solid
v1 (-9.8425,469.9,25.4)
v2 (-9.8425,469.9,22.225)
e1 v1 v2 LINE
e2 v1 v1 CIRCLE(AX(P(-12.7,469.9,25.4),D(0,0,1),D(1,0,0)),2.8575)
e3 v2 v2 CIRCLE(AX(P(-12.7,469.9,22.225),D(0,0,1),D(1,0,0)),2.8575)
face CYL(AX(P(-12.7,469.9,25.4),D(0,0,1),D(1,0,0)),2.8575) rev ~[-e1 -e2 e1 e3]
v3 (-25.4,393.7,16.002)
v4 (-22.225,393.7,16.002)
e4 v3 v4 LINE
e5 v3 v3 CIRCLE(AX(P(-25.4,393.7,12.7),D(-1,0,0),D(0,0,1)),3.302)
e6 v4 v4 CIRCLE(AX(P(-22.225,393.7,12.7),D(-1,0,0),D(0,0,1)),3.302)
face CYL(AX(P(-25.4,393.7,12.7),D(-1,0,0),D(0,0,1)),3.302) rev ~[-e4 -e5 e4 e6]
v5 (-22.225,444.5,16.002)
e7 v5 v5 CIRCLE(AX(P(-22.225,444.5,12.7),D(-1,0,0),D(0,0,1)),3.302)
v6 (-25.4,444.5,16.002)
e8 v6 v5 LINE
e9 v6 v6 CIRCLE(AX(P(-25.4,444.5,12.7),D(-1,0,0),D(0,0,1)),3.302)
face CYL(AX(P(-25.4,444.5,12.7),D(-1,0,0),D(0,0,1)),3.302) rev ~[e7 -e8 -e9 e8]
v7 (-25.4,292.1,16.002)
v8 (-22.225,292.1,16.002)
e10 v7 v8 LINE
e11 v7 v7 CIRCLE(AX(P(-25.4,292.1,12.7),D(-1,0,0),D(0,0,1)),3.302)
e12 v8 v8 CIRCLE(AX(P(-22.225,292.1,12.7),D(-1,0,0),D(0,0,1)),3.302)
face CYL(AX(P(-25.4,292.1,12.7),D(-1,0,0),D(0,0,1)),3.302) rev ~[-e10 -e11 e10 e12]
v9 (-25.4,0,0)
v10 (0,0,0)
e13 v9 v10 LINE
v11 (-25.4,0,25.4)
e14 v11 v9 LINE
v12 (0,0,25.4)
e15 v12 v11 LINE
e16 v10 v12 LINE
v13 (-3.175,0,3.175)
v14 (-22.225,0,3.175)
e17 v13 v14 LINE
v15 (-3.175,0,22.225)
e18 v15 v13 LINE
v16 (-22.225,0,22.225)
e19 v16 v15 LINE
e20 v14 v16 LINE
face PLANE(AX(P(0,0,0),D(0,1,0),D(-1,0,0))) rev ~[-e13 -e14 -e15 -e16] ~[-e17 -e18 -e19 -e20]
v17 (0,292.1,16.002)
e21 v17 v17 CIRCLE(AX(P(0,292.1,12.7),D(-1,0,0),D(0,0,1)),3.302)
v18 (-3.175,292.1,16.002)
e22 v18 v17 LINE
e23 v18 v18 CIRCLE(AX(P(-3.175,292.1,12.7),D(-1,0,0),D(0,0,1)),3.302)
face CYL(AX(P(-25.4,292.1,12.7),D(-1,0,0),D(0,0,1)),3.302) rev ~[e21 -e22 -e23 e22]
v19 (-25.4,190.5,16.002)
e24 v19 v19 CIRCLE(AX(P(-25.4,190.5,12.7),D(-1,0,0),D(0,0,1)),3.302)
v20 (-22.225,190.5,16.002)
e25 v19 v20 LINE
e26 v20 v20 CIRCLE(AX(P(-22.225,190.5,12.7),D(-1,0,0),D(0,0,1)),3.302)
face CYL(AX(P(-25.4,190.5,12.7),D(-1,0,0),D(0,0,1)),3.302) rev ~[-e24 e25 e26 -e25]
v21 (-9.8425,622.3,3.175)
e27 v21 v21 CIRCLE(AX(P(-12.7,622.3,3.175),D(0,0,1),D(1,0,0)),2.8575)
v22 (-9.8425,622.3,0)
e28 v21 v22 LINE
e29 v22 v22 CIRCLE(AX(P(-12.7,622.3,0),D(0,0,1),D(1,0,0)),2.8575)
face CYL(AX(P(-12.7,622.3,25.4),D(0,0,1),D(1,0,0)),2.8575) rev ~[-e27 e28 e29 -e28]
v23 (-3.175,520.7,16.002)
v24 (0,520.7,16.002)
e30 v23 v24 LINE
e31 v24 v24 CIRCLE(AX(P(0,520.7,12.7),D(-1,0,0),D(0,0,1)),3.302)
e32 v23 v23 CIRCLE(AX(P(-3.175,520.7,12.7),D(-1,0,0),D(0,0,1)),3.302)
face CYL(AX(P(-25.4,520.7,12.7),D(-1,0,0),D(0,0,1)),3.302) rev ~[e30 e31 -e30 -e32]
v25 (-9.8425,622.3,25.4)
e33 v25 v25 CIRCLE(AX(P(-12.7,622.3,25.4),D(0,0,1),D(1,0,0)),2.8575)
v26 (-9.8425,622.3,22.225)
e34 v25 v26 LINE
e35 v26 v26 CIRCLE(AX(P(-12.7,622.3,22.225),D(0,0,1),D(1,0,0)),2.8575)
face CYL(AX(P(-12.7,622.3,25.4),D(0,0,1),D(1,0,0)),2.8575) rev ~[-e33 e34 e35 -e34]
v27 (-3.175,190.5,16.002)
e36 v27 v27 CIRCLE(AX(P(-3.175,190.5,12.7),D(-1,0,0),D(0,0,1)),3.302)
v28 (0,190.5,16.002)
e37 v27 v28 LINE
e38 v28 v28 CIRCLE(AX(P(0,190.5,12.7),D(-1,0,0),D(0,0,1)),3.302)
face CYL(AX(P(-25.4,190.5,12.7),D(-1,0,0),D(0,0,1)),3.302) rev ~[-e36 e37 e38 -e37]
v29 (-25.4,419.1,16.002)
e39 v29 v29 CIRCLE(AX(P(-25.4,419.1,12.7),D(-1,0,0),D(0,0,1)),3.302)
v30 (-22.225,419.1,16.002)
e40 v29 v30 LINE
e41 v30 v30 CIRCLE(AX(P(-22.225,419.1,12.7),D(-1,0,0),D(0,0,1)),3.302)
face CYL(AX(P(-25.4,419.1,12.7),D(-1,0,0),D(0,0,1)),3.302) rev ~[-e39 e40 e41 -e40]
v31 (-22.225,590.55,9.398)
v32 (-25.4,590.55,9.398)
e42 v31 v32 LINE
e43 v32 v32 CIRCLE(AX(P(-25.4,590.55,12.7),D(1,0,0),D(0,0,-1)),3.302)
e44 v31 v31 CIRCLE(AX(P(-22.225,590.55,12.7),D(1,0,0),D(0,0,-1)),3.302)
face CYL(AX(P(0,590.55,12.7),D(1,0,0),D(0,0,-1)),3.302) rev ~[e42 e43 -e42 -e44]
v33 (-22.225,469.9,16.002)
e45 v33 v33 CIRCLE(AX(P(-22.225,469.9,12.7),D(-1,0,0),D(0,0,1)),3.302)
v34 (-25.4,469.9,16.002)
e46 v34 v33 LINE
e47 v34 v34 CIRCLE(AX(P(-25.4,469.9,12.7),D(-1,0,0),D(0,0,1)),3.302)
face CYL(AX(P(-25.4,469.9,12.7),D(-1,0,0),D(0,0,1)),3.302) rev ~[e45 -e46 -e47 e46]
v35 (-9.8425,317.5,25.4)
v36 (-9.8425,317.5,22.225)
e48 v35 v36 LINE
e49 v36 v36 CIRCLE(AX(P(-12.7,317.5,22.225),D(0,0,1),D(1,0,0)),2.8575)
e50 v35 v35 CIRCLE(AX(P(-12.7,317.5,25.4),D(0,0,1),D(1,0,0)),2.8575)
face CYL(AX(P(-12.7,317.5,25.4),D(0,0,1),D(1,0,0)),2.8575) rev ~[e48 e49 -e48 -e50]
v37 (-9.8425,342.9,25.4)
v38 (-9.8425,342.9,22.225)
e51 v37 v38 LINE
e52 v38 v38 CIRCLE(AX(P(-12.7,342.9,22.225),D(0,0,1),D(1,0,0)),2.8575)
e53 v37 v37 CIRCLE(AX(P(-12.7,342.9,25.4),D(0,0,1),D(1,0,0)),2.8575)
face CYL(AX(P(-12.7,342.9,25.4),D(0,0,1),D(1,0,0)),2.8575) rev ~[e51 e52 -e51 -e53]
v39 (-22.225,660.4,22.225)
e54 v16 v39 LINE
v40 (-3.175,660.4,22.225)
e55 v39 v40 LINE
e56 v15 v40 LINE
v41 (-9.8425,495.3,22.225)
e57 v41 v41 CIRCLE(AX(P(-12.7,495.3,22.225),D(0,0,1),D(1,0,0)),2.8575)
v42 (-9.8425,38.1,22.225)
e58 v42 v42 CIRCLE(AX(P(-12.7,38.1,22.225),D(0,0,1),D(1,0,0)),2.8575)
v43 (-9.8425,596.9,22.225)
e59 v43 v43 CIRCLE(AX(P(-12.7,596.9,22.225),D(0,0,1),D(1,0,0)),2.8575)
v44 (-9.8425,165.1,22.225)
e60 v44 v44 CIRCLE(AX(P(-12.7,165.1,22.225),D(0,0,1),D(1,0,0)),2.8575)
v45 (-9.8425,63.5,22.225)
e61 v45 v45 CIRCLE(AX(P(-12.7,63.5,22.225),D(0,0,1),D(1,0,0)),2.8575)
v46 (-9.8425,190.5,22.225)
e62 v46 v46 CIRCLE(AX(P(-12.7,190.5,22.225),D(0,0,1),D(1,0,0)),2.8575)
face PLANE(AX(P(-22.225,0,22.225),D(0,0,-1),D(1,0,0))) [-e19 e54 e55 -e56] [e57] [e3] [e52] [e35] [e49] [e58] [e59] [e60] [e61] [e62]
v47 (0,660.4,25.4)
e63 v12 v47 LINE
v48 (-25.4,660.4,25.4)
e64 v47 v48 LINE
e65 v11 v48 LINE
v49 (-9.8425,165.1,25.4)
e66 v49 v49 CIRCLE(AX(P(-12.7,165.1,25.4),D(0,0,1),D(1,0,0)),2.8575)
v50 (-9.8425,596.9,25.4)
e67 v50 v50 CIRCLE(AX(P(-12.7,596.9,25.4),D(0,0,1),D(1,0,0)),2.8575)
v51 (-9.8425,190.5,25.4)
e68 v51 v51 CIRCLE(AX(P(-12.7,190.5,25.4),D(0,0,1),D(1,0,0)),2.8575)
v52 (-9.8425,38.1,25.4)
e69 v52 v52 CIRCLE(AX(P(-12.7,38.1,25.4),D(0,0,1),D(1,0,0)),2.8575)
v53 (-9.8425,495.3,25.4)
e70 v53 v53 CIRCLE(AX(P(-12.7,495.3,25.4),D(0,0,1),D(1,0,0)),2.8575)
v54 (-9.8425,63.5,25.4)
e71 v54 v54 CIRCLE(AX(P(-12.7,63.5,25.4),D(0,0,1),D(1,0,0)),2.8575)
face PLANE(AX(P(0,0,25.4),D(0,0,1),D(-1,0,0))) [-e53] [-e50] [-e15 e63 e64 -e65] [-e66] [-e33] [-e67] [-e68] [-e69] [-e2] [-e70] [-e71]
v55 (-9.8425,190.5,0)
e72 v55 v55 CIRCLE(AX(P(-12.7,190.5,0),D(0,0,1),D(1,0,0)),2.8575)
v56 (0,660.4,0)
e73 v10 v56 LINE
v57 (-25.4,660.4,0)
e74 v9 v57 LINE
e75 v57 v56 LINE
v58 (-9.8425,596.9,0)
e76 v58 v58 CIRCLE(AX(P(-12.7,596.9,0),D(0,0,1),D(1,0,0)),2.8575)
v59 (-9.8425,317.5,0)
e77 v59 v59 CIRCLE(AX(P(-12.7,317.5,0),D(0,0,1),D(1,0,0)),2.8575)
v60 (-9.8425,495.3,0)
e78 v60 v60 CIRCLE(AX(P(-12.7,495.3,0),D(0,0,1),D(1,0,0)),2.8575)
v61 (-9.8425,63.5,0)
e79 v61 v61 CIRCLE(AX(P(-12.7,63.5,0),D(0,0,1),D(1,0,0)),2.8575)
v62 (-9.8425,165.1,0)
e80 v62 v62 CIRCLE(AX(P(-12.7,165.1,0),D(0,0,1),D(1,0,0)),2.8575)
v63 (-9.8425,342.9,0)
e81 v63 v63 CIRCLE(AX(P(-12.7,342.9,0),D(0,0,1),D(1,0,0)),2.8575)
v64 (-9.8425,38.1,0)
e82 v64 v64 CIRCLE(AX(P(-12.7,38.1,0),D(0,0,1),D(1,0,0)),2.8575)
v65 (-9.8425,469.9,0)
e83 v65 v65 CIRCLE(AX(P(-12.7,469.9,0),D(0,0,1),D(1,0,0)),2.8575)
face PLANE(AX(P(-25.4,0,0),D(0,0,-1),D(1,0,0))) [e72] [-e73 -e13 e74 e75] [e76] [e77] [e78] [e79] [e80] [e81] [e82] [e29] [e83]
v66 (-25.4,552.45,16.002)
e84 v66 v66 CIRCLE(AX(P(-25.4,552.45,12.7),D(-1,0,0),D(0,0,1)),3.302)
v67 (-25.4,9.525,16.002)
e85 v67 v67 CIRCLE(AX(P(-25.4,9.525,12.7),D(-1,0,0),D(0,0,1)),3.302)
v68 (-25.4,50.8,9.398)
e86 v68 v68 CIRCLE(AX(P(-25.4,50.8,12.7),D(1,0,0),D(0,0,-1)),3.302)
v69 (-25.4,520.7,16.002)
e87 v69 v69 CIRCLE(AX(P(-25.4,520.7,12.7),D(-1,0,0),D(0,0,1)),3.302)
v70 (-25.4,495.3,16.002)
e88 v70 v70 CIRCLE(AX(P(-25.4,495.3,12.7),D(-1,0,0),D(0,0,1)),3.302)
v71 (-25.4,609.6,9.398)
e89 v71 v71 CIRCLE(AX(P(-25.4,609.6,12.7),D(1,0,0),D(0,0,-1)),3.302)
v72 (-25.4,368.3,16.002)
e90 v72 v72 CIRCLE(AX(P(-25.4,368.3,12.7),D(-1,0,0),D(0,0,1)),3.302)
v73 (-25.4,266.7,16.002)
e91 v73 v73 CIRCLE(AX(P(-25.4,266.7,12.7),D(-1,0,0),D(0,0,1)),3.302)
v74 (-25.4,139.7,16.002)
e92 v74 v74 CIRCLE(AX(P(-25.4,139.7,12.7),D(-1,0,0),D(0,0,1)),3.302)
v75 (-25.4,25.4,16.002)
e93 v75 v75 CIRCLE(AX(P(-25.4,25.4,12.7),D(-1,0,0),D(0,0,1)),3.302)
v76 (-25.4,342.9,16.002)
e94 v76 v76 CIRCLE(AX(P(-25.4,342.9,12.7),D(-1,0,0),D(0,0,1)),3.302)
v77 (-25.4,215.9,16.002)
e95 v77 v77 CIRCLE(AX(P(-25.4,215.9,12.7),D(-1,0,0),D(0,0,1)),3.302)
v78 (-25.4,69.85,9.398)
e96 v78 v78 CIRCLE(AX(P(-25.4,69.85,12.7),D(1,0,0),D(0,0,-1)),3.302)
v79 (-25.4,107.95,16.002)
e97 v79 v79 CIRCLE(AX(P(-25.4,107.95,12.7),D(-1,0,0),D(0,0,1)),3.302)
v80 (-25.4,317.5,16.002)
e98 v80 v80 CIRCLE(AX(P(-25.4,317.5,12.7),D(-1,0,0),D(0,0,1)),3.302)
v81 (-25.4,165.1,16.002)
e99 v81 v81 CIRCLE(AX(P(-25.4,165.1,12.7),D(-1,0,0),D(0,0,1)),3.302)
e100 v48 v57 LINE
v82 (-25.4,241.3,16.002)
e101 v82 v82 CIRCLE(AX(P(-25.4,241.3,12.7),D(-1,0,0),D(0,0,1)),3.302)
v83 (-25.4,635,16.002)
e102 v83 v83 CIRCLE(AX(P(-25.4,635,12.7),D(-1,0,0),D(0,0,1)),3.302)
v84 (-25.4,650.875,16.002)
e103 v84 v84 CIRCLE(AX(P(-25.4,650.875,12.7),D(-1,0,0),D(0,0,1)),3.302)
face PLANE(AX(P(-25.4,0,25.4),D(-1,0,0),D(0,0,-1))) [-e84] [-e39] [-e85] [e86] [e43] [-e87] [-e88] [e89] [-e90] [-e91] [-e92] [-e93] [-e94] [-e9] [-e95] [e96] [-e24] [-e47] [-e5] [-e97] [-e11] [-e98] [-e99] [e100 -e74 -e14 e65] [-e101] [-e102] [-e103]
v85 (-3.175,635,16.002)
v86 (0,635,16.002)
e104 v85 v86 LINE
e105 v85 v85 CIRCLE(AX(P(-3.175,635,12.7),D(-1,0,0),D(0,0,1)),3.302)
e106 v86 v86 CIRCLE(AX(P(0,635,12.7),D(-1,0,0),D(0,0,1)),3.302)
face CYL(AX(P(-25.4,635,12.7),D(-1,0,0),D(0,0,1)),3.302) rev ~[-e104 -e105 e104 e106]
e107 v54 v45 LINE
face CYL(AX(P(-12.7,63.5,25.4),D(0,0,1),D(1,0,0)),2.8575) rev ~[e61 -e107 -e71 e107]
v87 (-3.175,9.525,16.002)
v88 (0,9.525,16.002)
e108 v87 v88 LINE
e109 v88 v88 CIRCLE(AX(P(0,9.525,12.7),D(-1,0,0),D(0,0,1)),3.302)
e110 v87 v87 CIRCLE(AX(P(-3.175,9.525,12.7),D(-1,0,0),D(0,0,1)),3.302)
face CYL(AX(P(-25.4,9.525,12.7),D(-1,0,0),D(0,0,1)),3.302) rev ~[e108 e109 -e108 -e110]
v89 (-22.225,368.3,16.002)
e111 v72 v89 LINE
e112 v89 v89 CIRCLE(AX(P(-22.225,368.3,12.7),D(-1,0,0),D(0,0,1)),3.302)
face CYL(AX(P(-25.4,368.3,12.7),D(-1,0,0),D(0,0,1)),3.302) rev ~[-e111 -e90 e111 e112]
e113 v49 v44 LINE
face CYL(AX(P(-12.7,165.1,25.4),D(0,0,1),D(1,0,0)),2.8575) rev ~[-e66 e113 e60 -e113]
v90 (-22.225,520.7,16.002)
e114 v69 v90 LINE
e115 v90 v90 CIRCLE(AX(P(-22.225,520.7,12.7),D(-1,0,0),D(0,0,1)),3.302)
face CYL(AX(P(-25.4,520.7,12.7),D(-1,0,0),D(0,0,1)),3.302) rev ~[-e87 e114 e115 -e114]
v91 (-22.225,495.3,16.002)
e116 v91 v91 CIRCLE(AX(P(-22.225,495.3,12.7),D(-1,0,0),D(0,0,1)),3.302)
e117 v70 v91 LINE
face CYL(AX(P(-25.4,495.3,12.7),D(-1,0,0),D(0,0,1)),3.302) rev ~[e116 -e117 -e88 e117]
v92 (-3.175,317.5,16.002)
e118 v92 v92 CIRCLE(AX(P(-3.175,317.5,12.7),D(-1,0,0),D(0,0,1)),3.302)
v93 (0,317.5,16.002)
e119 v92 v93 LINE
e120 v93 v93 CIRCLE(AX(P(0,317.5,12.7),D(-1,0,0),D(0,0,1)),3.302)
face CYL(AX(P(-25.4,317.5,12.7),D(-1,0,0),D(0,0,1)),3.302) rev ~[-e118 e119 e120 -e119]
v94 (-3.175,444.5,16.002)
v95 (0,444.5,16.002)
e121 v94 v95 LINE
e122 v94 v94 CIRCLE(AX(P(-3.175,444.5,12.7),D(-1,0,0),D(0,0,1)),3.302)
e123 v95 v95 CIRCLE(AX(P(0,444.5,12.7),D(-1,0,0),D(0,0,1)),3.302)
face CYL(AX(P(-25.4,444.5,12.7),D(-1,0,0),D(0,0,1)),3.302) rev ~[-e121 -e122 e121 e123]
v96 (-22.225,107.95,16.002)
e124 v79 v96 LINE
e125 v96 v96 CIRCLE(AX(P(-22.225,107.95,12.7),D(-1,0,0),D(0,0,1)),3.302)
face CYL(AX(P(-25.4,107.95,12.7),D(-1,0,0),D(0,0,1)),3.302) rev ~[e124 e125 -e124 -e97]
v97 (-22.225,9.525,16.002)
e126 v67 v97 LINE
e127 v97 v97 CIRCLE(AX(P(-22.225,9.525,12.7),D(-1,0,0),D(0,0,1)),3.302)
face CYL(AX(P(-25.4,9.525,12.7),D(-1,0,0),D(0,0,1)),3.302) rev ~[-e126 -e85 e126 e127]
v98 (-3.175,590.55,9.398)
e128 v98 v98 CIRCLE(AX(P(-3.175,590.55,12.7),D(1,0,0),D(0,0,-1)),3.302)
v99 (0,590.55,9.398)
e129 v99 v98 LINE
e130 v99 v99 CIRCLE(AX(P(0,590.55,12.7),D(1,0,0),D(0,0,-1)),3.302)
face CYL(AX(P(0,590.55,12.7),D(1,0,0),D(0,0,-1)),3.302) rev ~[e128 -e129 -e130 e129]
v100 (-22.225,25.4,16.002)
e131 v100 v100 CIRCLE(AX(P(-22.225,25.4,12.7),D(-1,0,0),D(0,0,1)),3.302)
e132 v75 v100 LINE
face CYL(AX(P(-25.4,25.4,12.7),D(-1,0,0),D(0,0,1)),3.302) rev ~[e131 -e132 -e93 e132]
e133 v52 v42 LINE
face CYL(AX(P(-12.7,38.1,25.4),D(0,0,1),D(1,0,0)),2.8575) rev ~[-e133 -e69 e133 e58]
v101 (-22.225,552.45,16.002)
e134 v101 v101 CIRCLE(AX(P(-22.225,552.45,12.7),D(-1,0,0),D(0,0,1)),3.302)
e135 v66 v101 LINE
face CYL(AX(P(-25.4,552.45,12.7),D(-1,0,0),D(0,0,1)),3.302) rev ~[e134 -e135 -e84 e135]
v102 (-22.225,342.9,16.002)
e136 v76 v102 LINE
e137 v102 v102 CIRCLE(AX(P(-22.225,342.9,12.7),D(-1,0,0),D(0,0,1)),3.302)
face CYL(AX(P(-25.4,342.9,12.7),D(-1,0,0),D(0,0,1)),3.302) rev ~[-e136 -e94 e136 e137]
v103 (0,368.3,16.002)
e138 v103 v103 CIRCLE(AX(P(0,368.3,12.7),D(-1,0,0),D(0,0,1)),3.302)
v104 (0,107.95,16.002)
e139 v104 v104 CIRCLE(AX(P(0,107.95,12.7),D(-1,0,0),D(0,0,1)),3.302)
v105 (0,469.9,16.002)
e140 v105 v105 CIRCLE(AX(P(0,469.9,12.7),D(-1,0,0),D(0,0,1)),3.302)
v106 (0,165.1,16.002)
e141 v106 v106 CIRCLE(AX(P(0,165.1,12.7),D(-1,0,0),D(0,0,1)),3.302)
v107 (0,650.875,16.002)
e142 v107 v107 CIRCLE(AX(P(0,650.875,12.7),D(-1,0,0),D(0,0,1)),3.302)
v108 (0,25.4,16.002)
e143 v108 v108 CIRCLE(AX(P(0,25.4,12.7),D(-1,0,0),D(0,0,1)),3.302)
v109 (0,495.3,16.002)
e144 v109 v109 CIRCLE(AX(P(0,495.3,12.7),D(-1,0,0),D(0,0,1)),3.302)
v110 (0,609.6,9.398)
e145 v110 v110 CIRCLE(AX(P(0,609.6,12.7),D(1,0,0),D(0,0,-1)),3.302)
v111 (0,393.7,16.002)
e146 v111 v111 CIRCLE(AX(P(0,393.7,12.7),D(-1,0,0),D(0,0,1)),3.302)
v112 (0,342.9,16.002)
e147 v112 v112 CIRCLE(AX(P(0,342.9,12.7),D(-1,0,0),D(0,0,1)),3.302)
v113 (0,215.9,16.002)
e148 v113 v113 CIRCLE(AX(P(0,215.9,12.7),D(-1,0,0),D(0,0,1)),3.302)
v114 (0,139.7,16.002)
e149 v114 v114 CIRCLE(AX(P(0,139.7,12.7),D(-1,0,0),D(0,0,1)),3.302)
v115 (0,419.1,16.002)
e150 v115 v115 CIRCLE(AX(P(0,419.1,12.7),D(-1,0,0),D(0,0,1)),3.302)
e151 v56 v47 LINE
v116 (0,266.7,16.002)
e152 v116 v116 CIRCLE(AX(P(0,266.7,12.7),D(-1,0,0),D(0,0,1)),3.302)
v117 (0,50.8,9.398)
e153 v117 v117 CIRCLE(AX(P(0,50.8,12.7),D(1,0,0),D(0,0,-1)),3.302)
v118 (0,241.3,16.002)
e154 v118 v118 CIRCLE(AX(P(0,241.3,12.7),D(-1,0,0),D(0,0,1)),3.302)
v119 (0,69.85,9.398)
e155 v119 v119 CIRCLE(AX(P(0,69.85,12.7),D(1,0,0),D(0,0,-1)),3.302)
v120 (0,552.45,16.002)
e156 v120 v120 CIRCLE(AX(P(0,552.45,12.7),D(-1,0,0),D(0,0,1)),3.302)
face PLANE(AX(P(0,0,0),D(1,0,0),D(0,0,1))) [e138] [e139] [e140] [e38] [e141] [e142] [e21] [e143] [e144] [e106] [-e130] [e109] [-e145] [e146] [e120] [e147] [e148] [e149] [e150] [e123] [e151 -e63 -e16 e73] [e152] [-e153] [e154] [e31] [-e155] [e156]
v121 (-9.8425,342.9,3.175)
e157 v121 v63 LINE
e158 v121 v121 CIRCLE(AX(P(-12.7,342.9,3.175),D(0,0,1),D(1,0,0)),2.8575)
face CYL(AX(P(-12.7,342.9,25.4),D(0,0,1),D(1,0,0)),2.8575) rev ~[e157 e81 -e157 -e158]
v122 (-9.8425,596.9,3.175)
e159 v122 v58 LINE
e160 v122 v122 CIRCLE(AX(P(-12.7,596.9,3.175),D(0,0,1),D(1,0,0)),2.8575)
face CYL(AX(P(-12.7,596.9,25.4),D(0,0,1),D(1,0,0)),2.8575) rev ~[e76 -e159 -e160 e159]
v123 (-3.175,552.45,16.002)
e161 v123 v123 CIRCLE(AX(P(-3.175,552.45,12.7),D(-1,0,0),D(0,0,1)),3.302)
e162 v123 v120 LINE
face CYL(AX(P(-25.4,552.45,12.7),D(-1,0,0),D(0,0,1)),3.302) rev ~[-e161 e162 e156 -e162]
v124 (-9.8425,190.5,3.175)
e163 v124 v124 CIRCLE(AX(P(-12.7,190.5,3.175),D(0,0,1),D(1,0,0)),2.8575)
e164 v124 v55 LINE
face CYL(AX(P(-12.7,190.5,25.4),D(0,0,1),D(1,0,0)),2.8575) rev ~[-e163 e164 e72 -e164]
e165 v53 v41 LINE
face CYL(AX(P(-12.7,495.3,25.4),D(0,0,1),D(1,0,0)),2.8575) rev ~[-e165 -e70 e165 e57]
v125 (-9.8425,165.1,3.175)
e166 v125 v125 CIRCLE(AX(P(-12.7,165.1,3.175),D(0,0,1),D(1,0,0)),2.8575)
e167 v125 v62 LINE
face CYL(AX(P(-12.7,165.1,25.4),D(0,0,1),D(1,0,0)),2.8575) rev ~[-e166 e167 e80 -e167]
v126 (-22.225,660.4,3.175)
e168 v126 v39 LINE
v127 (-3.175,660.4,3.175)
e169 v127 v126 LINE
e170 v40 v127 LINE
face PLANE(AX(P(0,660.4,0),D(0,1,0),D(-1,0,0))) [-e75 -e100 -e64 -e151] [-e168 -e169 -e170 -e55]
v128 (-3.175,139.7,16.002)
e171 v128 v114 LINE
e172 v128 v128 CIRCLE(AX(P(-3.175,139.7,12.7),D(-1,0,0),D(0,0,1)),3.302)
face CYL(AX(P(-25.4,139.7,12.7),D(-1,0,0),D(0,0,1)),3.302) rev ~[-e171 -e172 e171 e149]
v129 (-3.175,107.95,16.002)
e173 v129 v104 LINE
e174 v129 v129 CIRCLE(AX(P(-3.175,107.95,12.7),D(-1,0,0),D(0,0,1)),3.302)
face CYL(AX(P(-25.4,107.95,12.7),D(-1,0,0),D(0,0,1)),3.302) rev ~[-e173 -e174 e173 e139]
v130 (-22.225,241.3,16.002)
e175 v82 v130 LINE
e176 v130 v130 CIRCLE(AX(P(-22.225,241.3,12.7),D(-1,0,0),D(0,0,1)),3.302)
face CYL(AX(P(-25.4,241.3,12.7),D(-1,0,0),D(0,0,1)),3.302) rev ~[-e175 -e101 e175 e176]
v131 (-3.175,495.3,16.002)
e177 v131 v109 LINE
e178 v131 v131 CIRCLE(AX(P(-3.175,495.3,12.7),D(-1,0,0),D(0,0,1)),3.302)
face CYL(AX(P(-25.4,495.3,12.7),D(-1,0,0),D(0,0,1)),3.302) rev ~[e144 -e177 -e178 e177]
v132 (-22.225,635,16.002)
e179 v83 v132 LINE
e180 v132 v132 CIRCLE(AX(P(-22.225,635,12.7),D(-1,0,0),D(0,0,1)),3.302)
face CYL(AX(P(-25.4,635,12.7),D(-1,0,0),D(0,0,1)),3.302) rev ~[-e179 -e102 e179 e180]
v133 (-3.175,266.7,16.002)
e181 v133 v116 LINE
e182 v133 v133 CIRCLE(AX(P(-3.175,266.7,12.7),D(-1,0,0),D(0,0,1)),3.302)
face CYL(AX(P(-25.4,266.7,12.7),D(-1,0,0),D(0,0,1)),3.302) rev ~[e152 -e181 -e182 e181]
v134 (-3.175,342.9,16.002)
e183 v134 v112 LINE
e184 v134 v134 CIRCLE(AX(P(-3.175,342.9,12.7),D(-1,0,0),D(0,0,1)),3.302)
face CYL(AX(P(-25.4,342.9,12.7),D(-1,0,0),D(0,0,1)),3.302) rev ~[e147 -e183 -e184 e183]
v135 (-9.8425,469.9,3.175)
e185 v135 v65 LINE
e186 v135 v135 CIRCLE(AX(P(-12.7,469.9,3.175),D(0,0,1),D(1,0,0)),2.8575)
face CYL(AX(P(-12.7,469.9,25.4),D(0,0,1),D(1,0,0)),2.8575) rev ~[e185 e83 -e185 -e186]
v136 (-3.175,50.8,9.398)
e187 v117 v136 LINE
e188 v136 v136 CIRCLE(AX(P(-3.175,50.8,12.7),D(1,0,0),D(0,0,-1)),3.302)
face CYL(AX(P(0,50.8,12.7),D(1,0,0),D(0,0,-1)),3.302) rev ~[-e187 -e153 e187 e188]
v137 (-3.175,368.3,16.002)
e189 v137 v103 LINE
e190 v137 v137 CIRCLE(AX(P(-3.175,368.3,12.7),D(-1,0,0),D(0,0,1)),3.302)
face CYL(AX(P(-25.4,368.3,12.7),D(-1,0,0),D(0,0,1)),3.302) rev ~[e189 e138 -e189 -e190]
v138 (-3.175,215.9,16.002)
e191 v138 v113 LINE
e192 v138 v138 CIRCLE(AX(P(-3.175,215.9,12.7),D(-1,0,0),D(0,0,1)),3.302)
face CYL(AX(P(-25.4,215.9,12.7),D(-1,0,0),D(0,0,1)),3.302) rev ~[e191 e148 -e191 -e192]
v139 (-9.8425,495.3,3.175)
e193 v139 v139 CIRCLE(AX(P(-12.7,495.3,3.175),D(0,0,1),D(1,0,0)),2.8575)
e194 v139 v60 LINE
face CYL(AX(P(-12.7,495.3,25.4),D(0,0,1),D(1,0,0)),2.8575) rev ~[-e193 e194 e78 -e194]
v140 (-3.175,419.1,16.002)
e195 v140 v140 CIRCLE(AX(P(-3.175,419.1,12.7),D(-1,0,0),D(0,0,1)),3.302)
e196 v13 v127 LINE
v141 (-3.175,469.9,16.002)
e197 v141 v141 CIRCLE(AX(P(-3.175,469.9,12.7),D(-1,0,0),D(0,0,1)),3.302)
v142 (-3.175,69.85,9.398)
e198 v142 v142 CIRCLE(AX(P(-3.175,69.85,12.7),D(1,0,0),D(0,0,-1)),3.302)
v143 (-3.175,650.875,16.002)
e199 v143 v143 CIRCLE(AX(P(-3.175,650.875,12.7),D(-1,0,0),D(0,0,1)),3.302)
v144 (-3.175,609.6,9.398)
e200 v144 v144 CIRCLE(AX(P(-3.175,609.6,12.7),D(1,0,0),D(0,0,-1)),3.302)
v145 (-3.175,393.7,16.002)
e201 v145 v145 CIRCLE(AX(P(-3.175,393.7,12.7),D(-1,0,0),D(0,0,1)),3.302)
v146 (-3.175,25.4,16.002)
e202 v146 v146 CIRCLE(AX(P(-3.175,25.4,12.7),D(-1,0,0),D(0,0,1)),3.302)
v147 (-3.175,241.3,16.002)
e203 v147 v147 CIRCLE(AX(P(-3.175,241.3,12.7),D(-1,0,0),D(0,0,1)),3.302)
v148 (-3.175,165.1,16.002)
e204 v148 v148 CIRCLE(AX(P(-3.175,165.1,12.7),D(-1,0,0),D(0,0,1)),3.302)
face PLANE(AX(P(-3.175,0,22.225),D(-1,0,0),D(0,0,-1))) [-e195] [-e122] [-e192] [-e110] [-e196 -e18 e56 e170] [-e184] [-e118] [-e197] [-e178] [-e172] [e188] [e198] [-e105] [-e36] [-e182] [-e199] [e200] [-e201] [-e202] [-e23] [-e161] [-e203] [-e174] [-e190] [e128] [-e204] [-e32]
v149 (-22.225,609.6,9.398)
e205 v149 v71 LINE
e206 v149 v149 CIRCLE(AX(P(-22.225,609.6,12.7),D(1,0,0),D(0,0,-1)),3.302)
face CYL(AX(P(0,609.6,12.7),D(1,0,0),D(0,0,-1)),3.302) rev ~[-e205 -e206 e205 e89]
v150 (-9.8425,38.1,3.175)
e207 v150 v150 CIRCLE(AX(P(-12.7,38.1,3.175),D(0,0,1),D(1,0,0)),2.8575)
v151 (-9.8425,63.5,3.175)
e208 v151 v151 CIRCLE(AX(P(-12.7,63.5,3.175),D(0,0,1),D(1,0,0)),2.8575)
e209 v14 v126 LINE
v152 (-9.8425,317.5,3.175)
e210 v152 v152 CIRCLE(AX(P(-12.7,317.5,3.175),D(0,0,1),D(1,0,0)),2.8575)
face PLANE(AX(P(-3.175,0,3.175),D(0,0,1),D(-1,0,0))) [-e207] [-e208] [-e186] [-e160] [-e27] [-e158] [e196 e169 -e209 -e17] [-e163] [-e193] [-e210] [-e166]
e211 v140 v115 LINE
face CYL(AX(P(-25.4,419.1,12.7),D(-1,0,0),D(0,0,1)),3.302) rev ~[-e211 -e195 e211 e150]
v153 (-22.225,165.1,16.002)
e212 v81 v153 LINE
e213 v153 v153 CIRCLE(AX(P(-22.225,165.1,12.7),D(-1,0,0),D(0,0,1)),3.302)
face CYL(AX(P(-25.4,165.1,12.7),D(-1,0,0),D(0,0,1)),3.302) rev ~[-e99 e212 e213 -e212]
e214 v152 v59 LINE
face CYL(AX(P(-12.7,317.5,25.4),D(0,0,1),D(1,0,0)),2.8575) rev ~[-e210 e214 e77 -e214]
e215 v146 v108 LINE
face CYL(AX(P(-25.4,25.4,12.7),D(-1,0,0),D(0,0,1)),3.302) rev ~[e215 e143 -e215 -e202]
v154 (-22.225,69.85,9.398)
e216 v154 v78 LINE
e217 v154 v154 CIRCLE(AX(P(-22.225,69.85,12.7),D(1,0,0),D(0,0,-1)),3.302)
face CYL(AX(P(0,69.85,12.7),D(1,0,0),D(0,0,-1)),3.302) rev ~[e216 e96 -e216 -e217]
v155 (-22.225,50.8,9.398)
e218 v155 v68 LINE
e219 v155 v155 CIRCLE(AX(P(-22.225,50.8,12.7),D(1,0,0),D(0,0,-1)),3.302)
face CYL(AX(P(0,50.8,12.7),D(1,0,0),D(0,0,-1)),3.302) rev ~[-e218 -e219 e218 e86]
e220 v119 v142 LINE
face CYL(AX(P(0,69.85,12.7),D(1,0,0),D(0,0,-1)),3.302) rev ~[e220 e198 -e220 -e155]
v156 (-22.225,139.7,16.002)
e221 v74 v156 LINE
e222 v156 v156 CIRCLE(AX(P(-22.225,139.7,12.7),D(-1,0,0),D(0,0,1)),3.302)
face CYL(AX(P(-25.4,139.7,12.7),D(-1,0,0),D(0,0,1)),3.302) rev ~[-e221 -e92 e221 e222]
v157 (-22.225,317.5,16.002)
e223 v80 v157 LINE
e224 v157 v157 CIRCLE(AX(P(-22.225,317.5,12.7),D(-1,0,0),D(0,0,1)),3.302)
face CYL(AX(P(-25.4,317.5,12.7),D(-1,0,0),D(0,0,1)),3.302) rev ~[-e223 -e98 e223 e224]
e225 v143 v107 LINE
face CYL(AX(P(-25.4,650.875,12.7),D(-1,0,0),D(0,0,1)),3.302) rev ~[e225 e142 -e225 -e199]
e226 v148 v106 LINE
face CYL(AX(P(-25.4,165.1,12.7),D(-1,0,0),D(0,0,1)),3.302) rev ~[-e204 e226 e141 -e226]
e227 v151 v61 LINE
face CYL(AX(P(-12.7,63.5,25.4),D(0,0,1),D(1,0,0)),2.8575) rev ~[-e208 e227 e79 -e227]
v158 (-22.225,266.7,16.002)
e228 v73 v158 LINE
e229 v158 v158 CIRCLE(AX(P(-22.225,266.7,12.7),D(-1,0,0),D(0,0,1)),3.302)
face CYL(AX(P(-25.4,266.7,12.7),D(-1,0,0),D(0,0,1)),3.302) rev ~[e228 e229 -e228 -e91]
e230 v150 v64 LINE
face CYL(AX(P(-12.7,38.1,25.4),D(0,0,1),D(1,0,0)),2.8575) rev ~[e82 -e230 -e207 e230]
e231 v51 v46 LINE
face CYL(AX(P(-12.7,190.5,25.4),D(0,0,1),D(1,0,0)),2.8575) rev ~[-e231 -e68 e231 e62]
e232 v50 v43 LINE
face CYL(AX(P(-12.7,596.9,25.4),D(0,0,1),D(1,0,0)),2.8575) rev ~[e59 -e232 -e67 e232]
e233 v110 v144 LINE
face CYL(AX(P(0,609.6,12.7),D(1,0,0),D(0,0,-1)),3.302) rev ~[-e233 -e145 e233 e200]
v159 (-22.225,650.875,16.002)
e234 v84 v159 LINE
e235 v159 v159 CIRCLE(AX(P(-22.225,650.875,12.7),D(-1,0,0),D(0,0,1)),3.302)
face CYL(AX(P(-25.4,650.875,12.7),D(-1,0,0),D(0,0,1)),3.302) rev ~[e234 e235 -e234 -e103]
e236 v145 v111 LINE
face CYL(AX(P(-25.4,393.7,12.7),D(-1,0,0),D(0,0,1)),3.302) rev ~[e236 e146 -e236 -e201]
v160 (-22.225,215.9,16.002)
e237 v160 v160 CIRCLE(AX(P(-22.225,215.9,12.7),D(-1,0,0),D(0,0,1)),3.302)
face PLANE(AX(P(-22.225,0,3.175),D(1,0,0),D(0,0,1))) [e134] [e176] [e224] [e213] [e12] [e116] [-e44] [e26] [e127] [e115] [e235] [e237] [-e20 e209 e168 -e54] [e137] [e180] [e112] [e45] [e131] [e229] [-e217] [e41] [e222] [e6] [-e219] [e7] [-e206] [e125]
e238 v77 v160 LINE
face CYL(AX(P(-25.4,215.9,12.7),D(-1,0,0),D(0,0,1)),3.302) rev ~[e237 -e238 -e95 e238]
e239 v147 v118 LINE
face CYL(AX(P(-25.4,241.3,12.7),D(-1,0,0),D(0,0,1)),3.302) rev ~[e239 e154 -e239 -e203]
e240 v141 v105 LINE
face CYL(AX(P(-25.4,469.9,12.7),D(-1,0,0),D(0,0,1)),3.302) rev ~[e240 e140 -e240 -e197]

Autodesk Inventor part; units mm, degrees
ref_plane "YZ Plane" through (0, 0, 0) normal (1, 0, 0) x (0, 1, 0)
ref_plane "XZ Plane" through (0, 0, 0) normal (0, 1, 0) x (-1, 0, 0)
ref_plane "XY Plane" through (0, 0, 0) normal (0, 0, 1) x (1, 0, 0)
sketch "Sketch1" plane through (0, 0, 0) normal (0, 1, 0) x (-1, 0, 0)
  line L0 (0, 25.4) -> (25.4, 25.4)
  line L1 (25.4, 25.4) -> (25.4, 0)
  line L2 (25.4, 0) -> (0, 0)
  line L3 (0, 0) -> (0, 25.4)
  line L4 (22.225, 22.225) -> (3.175, 22.225)
  line L5 (3.175, 22.225) -> (3.175, 3.175)
  line L6 (3.175, 3.175) -> (22.225, 3.175)
  line L7 (22.225, 3.175) -> (22.225, 22.225)
  dimension "d0" = 25.4
  dimension "d1" = 25.4
  dimension "d2" = 3.175
extrude "Extrusion1" add sketch "Sketch1" along normal blind 660.4
sketch "Sketch2" plane through (-25.4, 0, 25.4) normal (0, 0, 1) x (1, 0, 0)
  line L0 (25.4, 0) -> (0, 0) projected
  line L1 (0, 660.4) -> (25.4, 660.4) projected
  line L2 (12.7, 660.4) -> (12.7, 0) construction
  circle A0 centre (12.7, 38.1) radius 2.8575
  circle A1 centre (12.7, 63.5) radius 2.8575
  circle A2 centre (12.7, 88.9) radius 2.8575
  circle A3 centre (12.7, 114.3) radius 2.8575
  circle A4 centre (12.7, 139.7) radius 2.8575
  circle A5 centre (12.7, 165.1) radius 2.8575
  circle A6 centre (12.7, 190.5) radius 2.8575
  circle A7 centre (12.7, 215.9) radius 2.8575
  circle A8 centre (12.7, 241.3) radius 2.8575
  circle A9 centre (12.7, 266.7) radius 2.8575
  circle A10 centre (12.7, 292.1) radius 2.8575
  circle A11 centre (12.7, 317.5) radius 2.8575
  circle A12 centre (12.7, 342.9) radius 2.8575
  circle A13 centre (12.7, 368.3) radius 2.8575
  circle A14 centre (12.7, 393.7) radius 2.8575
  circle A15 centre (12.7, 419.1) radius 2.8575
  circle A16 centre (12.7, 444.5) radius 2.8575
  circle A17 centre (12.7, 469.9) radius 2.8575
  circle A18 centre (12.7, 495.3) radius 2.8575
  circle A19 centre (12.7, 520.7) radius 2.8575
  circle A20 centre (12.7, 546.1) radius 2.8575
  circle A21 centre (12.7, 571.5) radius 2.8575
  circle A22 centre (12.7, 596.9) radius 2.8575
  circle A23 centre (12.7, 622.3) radius 2.8575
  dimension "d5" = 5.715
  dimension "d6" = 38.1
  dimension "d7" = 660.4
  dimension "d10" = 25.4
extrude "Extrusion2" cut sketch "Sketch2" against normal through all contours A0 | A1 | A5 | A6 | A11 | A12 | A17 | A18 | A22 | A23
sketch "Sketch3" plane through (-25.4, 0, 0) normal (-1, 0, 0) x (0, 0, 1)
  line L0 (25.4, 0) -> (0, 0) projected
  line L1 (0, 660.4) -> (25.4, 660.4) projected
  line L2 (12.7, 660.4) -> (12.7, 0) construction
  circle A0 centre (12.7, 552.45) radius 3.302
  circle A1 centre (12.7, 107.95) radius 3.302
  circle A2 centre (12.7, 650.875) radius 3.302 projected
  circle A3 centre (12.7, 635) radius 3.302 projected
  circle A4 centre (12.7, 25.4) radius 3.302 projected
  circle A5 centre (12.7, 9.525) radius 3.302 projected
  circle A6 centre (12.7, 520.7) radius 3.302
  circle A7 centre (12.7, 495.3) radius 3.302
  circle A8 centre (12.7, 469.9) radius 3.302
  circle A9 centre (12.7, 444.5) radius 3.302
  circle A10 centre (12.7, 419.1) radius 3.302
  circle A11 centre (12.7, 393.7) radius 3.302
  circle A12 centre (12.7, 368.3) radius 3.302
  circle A13 centre (12.7, 342.9) radius 3.302
  circle A14 centre (12.7, 317.5) radius 3.302
  circle A15 centre (12.7, 292.1) radius 3.302
  circle A16 centre (12.7, 266.7) radius 3.302
  circle A17 centre (12.7, 241.3) radius 3.302
  circle A18 centre (12.7, 215.9) radius 3.302
  circle A19 centre (12.7, 190.5) radius 3.302
  circle A20 centre (12.7, 165.1) radius 3.302
  circle A21 centre (12.7, 139.7) radius 3.302
  dimension "d34" = 16
  dimension "d27" = 6.604
  dimension "d28" = 6.604
  dimension "d29" = 107.95
  dimension "d30" = 107.95
  dimension "d31" = 444.5
  dimension "d32" = 31.75
  dimension "d33" = 6.604
  dimension "d36" = 25.4
extrude "Extrusion3" cut sketch "Sketch3" against normal blind 25.4
sketch "Sketch4" plane through (0, 0, 25.4) normal (1, 0, 0) x (0, 0, -1)
  circle A0 centre (12.7, 25.4) radius 3.302 projected
  circle A1 centre (12.7, 635) radius 3.302 projected
  line L0 (25.4, 0) -> (0, 0) projected
  line L1 (0, 660.4) -> (25.4, 660.4) projected
  line L2 (12.7, 660.4) -> (12.7, 0) construction
  circle A2 centre (12.7, 50.8) radius 3.302
  circle A3 centre (12.7, 69.85) radius 3.302
  circle A4 centre (12.7, 609.6) radius 3.302
  circle A5 centre (12.7, 590.55) radius 3.302
  dimension "d41" = 25.4
  dimension "d42" = 19.05
  dimension "d43" = 6.604
  dimension "d45" = 25.4
  dimension "d46" = 19.05
extrude "Extrusion4" cut sketch "Sketch4" against normal blind 25.4 contours A2 | A3 | A4 | A5
equation "\"d27\" = d28"
equation "\"d30\" = d29"
equation "\"d33\" = d28"
properties part number "Chassis V1.500 Part2" material "Aluminum 6061"
